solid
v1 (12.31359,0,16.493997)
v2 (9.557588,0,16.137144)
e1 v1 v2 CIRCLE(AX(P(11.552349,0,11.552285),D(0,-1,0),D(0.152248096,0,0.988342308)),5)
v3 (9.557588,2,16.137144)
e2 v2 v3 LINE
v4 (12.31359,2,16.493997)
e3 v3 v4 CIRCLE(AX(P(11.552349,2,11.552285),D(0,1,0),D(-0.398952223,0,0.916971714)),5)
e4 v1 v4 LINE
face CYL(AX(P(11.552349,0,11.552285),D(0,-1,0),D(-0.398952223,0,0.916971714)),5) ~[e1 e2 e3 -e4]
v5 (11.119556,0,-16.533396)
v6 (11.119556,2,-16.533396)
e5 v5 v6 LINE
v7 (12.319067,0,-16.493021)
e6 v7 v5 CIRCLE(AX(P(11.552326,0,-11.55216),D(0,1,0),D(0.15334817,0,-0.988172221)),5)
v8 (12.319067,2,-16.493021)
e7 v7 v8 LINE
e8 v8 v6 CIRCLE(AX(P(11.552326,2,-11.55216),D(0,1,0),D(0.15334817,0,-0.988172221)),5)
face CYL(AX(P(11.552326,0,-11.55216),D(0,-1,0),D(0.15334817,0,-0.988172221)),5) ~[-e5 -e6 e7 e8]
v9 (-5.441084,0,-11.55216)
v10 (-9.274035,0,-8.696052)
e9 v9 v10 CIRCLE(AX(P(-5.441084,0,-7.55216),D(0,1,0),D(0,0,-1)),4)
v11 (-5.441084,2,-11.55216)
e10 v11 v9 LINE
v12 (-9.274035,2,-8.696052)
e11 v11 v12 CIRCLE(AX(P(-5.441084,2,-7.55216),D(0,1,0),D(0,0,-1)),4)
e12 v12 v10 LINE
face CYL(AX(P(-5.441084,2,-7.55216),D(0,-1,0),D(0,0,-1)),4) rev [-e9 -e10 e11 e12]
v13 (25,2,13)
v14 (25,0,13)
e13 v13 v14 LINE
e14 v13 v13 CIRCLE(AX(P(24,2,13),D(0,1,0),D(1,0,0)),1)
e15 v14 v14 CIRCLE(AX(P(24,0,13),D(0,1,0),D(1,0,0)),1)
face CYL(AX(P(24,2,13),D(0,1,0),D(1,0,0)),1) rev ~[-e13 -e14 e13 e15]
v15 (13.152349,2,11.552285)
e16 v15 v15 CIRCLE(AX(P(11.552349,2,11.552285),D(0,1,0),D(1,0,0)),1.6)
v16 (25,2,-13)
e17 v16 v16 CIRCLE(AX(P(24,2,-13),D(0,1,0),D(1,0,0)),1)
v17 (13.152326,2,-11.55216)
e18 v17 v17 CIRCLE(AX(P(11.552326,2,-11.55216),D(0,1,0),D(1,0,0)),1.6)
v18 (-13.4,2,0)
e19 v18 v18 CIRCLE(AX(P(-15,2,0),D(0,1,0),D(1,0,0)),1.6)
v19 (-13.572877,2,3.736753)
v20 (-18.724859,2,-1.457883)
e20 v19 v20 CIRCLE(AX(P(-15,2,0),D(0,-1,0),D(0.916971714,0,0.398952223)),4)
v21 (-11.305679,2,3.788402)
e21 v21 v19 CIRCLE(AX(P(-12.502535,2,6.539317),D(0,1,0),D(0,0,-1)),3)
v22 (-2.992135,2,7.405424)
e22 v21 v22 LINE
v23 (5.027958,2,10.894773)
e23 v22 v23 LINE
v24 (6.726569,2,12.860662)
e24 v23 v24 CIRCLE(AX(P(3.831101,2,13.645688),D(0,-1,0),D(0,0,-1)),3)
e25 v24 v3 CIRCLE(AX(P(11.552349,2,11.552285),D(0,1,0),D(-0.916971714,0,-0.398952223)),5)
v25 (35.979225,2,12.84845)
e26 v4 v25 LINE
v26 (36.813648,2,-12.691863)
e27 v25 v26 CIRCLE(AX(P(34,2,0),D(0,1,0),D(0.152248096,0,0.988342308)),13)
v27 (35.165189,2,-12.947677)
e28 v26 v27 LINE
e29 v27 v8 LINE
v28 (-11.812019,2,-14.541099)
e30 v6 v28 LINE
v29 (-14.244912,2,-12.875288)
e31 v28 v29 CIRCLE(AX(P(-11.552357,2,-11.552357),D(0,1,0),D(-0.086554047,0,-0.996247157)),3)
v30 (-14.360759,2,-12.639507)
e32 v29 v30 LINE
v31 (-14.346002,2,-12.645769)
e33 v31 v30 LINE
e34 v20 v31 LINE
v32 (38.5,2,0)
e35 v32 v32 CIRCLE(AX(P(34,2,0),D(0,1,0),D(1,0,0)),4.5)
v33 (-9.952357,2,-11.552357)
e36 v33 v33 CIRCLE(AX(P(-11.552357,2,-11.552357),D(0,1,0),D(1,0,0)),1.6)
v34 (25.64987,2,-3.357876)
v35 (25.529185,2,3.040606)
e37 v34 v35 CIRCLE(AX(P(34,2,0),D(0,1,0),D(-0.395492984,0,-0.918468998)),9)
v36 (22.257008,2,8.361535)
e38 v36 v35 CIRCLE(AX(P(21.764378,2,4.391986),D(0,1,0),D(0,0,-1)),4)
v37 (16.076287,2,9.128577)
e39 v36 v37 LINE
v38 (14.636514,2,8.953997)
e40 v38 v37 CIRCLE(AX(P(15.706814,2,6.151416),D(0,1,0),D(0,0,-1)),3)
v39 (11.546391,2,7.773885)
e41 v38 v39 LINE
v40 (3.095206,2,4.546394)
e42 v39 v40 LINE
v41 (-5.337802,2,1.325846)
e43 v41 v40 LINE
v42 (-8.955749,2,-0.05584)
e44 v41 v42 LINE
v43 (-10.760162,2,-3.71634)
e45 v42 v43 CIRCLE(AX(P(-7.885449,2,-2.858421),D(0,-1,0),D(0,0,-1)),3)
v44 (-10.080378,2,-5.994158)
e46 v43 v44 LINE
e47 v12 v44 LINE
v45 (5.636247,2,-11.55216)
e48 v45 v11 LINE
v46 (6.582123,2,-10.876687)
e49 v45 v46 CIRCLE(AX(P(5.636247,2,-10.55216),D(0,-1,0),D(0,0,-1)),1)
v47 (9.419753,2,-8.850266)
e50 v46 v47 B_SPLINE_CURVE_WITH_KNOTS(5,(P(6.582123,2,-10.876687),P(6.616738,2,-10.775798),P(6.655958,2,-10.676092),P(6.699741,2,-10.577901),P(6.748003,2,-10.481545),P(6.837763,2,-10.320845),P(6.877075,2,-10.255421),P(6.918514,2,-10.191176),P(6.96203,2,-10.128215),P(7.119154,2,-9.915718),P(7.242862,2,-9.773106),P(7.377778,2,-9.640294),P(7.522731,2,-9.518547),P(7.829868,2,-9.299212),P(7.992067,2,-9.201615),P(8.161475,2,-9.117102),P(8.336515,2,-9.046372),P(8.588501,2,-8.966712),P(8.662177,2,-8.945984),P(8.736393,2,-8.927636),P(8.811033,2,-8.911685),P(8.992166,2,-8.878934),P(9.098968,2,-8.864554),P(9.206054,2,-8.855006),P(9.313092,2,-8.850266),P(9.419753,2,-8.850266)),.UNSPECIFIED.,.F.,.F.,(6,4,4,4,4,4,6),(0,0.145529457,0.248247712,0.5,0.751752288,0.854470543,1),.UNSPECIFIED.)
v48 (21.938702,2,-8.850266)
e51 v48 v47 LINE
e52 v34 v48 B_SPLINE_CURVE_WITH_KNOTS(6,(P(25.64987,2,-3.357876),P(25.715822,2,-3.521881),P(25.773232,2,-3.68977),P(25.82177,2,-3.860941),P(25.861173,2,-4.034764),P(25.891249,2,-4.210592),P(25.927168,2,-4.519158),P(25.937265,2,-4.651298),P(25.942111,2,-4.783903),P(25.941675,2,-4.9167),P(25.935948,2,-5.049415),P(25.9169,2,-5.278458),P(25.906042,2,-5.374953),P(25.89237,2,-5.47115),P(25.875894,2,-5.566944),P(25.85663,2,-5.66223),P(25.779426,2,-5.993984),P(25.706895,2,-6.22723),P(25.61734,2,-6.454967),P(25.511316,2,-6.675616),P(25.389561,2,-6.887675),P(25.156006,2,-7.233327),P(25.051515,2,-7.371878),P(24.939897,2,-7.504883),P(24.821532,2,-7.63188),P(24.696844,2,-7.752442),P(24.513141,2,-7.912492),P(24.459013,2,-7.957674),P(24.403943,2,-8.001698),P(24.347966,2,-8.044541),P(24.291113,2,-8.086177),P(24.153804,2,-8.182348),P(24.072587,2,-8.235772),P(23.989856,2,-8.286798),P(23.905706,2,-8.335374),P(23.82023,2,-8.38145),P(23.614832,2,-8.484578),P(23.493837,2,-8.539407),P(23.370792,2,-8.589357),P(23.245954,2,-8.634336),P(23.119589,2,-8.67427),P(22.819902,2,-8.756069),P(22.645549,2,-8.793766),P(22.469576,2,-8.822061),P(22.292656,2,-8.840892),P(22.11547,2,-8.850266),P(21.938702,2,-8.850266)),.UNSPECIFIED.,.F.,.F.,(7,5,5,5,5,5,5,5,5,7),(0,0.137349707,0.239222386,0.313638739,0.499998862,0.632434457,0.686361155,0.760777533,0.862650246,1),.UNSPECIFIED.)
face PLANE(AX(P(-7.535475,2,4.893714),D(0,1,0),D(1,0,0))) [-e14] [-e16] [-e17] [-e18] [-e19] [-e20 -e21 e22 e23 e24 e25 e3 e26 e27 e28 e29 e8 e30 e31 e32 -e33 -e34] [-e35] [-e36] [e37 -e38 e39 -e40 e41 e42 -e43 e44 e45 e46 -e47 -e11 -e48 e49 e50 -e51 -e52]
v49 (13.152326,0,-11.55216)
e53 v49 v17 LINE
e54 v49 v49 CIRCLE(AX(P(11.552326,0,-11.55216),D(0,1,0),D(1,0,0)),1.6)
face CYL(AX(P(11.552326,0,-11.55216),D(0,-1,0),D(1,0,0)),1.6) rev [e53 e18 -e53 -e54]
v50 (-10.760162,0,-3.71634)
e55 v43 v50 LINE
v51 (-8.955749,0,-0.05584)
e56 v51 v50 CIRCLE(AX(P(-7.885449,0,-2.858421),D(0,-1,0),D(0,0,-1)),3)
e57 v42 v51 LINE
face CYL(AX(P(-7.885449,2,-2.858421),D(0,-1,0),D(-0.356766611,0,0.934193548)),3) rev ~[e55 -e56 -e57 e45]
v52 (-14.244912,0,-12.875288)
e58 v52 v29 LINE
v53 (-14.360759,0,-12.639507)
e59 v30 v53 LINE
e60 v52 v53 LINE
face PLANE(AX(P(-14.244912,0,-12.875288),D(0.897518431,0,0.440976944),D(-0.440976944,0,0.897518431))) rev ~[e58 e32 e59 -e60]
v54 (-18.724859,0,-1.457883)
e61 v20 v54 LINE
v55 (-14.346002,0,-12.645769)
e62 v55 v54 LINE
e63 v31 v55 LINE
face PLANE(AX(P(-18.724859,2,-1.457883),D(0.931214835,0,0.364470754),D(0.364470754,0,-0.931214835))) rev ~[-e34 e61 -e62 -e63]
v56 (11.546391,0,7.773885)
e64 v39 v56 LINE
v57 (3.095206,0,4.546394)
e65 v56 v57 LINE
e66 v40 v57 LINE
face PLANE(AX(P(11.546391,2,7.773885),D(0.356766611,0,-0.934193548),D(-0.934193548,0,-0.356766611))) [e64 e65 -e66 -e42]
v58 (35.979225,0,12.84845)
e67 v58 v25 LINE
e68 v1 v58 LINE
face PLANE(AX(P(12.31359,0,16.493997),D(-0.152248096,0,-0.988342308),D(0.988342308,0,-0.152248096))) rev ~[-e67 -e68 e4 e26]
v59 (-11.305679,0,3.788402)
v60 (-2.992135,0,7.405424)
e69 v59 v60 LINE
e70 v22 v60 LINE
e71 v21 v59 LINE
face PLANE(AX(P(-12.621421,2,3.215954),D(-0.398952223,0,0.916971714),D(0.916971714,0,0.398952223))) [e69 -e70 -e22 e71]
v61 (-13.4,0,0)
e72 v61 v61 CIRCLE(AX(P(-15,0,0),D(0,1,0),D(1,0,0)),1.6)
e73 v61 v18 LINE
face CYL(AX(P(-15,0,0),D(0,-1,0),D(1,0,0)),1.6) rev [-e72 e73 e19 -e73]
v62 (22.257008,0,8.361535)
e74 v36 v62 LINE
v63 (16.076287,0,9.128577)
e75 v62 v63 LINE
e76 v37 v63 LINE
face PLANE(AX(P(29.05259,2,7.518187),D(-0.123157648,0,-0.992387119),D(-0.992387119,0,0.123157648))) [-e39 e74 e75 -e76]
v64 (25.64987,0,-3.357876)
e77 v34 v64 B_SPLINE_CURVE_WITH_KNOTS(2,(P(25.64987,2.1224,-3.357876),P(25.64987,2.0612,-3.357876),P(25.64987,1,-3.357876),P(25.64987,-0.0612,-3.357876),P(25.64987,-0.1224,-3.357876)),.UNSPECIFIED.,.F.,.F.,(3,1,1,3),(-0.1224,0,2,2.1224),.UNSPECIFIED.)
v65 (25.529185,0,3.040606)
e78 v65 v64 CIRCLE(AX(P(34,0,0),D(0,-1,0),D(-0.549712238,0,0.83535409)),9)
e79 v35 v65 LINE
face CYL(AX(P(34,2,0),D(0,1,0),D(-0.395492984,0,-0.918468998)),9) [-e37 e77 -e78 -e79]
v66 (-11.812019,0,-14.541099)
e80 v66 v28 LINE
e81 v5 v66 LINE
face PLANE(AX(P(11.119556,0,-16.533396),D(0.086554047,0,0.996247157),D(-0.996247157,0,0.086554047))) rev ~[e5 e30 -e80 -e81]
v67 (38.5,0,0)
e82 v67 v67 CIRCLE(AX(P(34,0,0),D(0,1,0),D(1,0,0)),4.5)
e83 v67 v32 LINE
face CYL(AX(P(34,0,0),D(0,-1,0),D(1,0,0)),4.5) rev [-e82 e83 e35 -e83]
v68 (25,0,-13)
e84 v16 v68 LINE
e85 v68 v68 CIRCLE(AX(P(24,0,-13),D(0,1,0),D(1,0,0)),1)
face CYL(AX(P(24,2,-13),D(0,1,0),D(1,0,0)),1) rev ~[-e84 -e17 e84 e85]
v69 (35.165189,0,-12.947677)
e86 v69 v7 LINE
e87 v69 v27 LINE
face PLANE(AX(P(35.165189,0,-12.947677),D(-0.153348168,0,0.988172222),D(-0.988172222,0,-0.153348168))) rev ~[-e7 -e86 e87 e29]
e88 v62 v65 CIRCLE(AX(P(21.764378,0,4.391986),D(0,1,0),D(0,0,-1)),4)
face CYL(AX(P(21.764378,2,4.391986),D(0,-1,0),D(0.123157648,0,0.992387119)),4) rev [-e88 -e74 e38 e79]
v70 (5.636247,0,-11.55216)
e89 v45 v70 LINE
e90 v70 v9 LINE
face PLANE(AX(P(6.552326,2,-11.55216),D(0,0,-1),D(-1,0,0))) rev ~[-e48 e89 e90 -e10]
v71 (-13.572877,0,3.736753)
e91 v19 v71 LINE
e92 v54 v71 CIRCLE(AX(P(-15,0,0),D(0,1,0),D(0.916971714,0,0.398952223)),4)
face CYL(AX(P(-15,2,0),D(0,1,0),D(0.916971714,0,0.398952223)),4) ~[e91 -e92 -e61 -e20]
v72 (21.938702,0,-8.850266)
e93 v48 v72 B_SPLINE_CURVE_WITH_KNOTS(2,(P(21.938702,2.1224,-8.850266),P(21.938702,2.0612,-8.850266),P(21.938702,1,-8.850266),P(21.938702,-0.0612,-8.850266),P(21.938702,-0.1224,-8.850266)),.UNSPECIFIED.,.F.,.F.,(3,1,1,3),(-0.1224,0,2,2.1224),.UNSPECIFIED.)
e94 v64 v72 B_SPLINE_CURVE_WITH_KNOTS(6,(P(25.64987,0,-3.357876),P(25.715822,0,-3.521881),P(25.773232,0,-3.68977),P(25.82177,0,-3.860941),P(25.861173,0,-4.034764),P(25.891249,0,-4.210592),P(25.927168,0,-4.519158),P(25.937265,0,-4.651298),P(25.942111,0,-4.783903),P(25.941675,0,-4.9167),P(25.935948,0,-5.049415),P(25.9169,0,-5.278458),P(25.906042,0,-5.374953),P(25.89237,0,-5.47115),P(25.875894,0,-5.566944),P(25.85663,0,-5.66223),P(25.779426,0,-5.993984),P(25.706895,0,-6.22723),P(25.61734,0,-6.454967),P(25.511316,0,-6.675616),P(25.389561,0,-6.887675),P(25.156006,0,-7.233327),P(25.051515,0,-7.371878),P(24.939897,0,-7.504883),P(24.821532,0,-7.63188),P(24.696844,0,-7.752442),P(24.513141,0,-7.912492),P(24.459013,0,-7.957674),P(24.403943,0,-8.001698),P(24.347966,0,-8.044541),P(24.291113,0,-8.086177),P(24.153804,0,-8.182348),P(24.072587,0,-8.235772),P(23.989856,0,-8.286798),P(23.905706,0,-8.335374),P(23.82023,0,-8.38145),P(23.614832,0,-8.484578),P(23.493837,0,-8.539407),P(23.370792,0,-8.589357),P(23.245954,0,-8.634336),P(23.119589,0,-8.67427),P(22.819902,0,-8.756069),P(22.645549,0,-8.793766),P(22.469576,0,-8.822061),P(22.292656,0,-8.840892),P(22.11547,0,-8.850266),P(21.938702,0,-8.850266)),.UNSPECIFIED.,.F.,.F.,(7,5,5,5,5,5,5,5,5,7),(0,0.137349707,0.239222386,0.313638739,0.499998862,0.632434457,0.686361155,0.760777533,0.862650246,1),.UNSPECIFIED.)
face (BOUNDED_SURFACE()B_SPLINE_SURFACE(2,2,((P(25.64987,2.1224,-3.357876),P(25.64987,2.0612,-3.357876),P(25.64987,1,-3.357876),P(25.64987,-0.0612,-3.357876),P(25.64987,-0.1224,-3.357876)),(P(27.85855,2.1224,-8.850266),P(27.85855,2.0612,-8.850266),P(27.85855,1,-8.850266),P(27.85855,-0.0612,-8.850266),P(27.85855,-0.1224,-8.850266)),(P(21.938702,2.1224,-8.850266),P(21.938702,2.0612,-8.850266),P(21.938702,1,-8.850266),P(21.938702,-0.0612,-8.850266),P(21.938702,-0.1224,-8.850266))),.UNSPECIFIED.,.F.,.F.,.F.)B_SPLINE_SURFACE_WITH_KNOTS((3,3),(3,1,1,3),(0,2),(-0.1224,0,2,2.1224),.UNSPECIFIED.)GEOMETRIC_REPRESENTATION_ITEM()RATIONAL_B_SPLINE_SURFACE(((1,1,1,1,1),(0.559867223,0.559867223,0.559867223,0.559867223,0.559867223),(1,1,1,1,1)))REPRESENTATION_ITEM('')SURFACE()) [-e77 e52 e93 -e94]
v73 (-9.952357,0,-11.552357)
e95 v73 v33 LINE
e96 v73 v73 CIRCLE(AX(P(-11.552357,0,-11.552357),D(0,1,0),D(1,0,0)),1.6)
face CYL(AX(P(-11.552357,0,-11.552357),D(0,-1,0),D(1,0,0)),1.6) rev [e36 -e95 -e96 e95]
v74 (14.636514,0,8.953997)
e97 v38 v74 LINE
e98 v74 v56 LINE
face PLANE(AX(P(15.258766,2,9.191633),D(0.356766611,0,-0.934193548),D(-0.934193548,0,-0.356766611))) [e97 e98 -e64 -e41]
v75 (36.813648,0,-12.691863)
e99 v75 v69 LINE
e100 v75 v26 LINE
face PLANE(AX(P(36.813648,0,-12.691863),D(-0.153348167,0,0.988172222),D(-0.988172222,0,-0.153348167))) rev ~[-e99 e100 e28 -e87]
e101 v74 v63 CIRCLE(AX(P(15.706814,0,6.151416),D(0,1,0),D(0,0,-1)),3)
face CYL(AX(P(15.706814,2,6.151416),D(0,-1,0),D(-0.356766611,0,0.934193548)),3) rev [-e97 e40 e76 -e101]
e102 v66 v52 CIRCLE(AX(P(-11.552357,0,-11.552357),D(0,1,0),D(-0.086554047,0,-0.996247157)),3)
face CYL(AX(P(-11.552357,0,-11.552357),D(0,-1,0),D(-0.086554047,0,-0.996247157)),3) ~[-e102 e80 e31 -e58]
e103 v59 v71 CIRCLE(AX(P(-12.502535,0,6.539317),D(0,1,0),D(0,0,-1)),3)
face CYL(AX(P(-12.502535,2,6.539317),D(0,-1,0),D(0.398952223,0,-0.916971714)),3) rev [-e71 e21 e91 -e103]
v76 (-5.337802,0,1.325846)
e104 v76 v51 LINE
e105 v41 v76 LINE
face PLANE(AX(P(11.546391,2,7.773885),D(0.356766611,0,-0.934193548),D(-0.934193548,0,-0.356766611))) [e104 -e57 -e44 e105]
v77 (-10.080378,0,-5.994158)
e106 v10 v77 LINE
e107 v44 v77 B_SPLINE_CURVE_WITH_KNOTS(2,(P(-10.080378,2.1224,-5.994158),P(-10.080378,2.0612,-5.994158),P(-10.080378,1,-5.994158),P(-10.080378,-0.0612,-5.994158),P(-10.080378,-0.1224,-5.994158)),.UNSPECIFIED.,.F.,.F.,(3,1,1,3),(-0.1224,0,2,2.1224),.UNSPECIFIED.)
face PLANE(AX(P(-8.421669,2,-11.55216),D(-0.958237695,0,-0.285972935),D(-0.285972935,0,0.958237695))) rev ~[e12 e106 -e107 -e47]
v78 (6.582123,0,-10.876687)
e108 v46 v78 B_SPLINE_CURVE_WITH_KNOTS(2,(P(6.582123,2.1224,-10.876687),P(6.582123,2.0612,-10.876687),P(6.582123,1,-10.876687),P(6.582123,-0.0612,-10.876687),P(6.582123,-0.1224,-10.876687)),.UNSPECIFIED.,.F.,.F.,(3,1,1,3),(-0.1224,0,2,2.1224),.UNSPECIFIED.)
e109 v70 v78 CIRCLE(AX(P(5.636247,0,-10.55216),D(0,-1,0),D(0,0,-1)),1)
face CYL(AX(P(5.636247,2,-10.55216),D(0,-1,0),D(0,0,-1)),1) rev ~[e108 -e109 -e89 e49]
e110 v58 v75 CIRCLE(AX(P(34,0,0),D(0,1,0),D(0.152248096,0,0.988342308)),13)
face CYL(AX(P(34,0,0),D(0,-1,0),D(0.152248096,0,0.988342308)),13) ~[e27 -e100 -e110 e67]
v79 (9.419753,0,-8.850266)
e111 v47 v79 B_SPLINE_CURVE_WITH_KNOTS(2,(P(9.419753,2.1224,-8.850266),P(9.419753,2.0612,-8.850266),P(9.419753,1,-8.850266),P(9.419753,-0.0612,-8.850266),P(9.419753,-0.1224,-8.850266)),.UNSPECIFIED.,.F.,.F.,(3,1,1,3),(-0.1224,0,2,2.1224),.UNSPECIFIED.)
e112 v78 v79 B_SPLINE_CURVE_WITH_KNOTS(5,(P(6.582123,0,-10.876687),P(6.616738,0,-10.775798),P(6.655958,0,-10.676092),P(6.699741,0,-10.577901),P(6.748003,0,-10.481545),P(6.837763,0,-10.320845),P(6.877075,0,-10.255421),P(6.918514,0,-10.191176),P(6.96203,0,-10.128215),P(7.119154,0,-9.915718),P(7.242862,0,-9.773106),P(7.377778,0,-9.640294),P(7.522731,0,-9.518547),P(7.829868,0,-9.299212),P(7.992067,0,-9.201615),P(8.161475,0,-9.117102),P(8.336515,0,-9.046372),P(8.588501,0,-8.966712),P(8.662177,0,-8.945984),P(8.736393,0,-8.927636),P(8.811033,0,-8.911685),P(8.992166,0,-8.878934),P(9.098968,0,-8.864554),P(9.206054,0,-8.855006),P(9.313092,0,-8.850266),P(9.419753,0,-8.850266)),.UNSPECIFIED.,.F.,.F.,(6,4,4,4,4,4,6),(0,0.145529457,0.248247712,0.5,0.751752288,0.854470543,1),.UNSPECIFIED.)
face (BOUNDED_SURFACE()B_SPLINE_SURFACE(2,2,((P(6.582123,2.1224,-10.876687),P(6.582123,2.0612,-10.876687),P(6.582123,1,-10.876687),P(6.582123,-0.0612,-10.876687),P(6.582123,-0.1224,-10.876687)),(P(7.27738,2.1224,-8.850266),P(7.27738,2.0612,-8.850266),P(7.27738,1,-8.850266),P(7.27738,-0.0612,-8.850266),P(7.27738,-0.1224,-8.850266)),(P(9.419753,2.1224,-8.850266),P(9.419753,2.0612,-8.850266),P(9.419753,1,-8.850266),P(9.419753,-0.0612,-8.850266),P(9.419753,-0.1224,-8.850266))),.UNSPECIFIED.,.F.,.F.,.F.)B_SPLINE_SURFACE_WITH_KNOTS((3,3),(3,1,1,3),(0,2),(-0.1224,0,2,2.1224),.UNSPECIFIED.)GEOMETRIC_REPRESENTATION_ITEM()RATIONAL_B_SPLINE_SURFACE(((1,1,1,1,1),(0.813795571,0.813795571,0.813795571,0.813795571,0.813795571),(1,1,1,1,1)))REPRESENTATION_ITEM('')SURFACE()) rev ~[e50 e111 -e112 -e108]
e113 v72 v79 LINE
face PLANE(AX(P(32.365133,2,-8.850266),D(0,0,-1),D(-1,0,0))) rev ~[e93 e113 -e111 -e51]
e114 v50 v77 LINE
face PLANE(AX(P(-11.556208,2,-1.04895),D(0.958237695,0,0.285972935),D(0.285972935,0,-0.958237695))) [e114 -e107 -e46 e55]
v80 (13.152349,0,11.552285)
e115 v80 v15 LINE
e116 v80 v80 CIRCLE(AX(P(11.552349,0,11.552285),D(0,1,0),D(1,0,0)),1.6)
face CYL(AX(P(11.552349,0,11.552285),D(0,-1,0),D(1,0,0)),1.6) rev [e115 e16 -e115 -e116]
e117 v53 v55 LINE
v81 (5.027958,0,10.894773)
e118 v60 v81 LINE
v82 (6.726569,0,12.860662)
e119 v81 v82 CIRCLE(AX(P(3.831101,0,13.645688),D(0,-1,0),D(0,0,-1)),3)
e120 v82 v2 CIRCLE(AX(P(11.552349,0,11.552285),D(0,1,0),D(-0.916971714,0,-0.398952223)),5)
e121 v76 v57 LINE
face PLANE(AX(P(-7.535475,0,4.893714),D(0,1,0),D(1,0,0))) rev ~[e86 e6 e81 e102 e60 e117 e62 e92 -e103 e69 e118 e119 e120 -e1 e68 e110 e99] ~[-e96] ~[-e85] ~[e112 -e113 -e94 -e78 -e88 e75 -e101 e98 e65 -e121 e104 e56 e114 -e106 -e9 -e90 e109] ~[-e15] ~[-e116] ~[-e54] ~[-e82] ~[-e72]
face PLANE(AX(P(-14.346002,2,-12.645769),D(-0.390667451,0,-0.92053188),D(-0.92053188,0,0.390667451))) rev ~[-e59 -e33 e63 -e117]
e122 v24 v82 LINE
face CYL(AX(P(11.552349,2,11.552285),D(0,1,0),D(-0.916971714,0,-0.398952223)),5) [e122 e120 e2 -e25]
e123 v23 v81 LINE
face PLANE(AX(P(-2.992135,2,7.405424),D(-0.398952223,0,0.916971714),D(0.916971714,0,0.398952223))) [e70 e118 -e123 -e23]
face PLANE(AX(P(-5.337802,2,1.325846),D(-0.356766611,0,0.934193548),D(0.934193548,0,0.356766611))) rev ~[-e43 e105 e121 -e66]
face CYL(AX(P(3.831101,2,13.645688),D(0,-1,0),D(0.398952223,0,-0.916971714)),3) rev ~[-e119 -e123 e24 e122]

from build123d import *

# Parameters (mm, degrees)
SKETCH1_R           = 1.6
SKETCH1_R_2         = 1
SKETCH1_R_3         = 5.5
SKETCH1_R_4         = 4.5
BOSS_EXTRUDE2_DEPTH = 2
SKETCH2_R           = 1
BOSS_EXTRUDE3_DEPTH = 2
SKETCH3_R           = 1
CUT_EXTRUDE1_DEPTH  = 103
CUT_EXTRUDE2_DEPTH  = 10
BOSS_EXTRUDE4_DEPTH = 2
FILLET1_R           = 3
CUT_EXTRUDE3_DEPTH  = 10
CUT_EXTRUDE4_DEPTH  = 10
BOSS_EXTRUDE5_DEPTH = 2
CUT_EXTRUDE5_DEPTH  = 10
CUT_EXTRUDE9_DEPTH  = 10
FILLET3_R           = 4
CUT_EXTRUDE10_DEPTH = 10
FILLET4_R           = 4
FILLET6_R           = 1
FILLET7_R           = 3
SKETCH13_R          = 1.6
SKETCH13_R_2        = 1
SKETCH13_R_3        = 4.5
BOSS_EXTRUDE7_DEPTH = 2
FILLET8_R           = 3


with BuildPart() as part:
    # Sketch1 → Boss-Extrude2 (new body)
    with BuildSketch(Plane(origin=(0, 0, 0), x_dir=(1, 0, 0), z_dir=(0, 1, 0))):
        with BuildLine():
            Line((12.313589515, -16.493996637), (35.979225245, -12.848450001))
            ThreePointArc((35.979225245, -12.848450001), (46.993067566, -0.424494085), (36.813648041, 12.691862933))
            Line((36.813648041, 12.691862933), (35.165189196, 12.947676785))
            Line((35.165189196, 12.947676785), (12.319067304, 16.493021261))
            ThreePointArc((12.319067304, 16.493021261), (11.720527595, 16.549330191), (11.119556233, 16.533395936))
            Line((11.119556233, 16.533395936), (-11.812019178, 14.541098507))
            ThreePointArc((-11.812019178, 14.541098507), (-13.247239988, 14.027709898), (-14.244912332, 12.87528787))
            Line((-14.244912332, 12.87528787), (-19.487592157, 2.204884721))
            ThreePointArc((-19.487592157, 2.204884721), (-19.693653105, -1.723258696), (-16.994761113, -4.584858569))
            Line((-16.994761113, -4.584858569), (9.557587922, -16.137143667))
            ThreePointArc((9.557587922, -16.137143667), (10.910298182, -16.51089082), (12.313589515, -16.493996637))
        make_face()
        with Locations((11.552349036, -11.552285098)):
            Circle(SKETCH1_R, mode=Mode.SUBTRACT)
        with Locations((25, -11)):
            Circle(SKETCH1_R_2, mode=Mode.SUBTRACT)
        with Locations((-15, 0)):
            Circle(SKETCH1_R, mode=Mode.SUBTRACT)
        Circle(SKETCH1_R_3, mode=Mode.SUBTRACT)
        with Locations((-11.552357038, 11.552357038)):
            Circle(SKETCH1_R, mode=Mode.SUBTRACT)
        with Locations((11.552326466, 11.552160153)):
            Circle(SKETCH1_R, mode=Mode.SUBTRACT)
        with Locations((14, 0)):
            Circle(SKETCH1_R_4, mode=Mode.SUBTRACT)
        with Locations((34, 0)):
            Circle(SKETCH1_R_4, mode=Mode.SUBTRACT)
        with Locations((25, 11)):
            Circle(SKETCH1_R_2, mode=Mode.SUBTRACT)
    extrude(amount=BOSS_EXTRUDE2_DEPTH)

    # Sketch2 → Boss-Extrude3 (add)
    with BuildSketch(Plane(origin=(0, 2, 0), x_dir=(1, 0, 0), z_dir=(0, 1, 0))):
        with Locations((25, 11)):
            Circle(SKETCH2_R)
        with Locations((25, -11)):
            Circle(SKETCH2_R)
    extrude(amount=-BOSS_EXTRUDE3_DEPTH)

    # Sketch3 → Cut-Extrude1 (cut)
    with BuildSketch(Plane(origin=(0, 2, 0), x_dir=(1, 0, 0), z_dir=(0, 1, 0))):
        with Locations((24, 13)):
            Circle(SKETCH3_R)
        with Locations((24, -13)):
            Circle(SKETCH3_R)
    extrude(amount=-CUT_EXTRUDE1_DEPTH, mode=Mode.SUBTRACT)

    # Sketch4 → Cut-Extrude2 (cut)
    with BuildSketch(Plane(origin=(0, 2, 0), x_dir=(1, 0, 0), z_dir=(0, 1, 0))):
        with BuildLine():
            Line((-11.556207856, 1.04895048), (-9.269369924, 8.711683705))
            Line((-9.269369924, 8.711683705), (11.51784634, 8.478494442))
            Line((11.51784634, 8.478494442), (14.72101257, 8.44256159))
            ThreePointArc((14.72101257, 8.44256159), (23.806986873, -0.105659112), (15.258766171, -9.191633415))
            Line((15.258766171, -9.191633415), (11.546390573, -7.773884745))
            Line((11.546390573, -7.773884745), (-11.556207856, 1.04895048))
        make_face()
    extrude(amount=-CUT_EXTRUDE2_DEPTH, mode=Mode.SUBTRACT)

    # Sketch5 → Boss-Extrude4 (add)
    with BuildSketch(Plane(origin=(0, 2, 0), x_dir=(1, 0, 0), z_dir=(0, 1, 0))):
        Polygon((-5.337802217, -1.325845952), (3.09520559, -4.546394435), (3.755970184, -8.105851045), (-7.77052306, -5.643881614), align=None)
    extrude(amount=-BOSS_EXTRUDE4_DEPTH)

    # Fillet1
    fillet1_edges = [part.edges().sort_by_distance(p)[0] for p in [
        (14.72101257, 1, -8.44256159),
        (-11.556207856, 1, -1.04895048),
        (-9.269369924, 1, -8.711683705),
        (15.258766171, 1, 9.191633415),
    ]]
    fillet(fillet1_edges, radius=FILLET1_R)

    # Sketch6 → Cut-Extrude3 (cut)
    with BuildSketch(Plane(origin=(0, 2, 0), x_dir=(1, 0, 0), z_dir=(0, 1, 0))):
        with BuildLine():
            Line((-10.415141431, -1.994761113), (6.967490467, -9.557523985))
            ThreePointArc((6.967490467, -9.557523985), (7.370614613, -14.293288056), (11.552349036, -16.552285098))
            Line((11.552349036, -16.552285098), (4.640159697, -19.625925194))
            Line((4.640159697, -19.625925194), (-19.442024068, -14.318556871))
            Line((-19.442024068, -14.318556871), (-16.994761113, -4.584858569))
            ThreePointArc((-16.994761113, -4.584858569), (-13.168524525, -4.652493695), (-10.415141431, -1.994761113))
        make_face()
    extrude(amount=-CUT_EXTRUDE3_DEPTH, mode=Mode.SUBTRACT)

    # Sketch7 → Cut-Extrude4 (cut)
    with BuildSketch(Plane(origin=(0, 2, 0), x_dir=(1, 0, 0), z_dir=(0, 1, 0))):
        with BuildLine():
            Line((-19.487592157, 2.204884721), (-14.360758579, 12.639506513))
            Line((-14.360758579, 12.639506513), (-40.027877899, 1.746555748))
            Line((-40.027877899, 1.746555748), (-13.686394089, -14.892557088))
            Line((-13.686394089, -14.892557088), (-5.537805094, -4.116772232))
            Line((-5.537805094, -4.116772232), (-10.415141431, -1.994761113))
            ThreePointArc((-10.415141431, -1.994761113), (-17.100386029, -4.537441849), (-19.487592157, 2.204884721))
        make_face()
        with BuildLine():
            Line((-18.724859342, 1.457883014), (-14.346001544, 12.645769298))
            Line((-14.346001544, 12.645769298), (-14.360758579, 12.639506513))
            Line((-14.360758579, 12.639506513), (-19.487592157, 2.204884721))
            ThreePointArc((-19.487592157, 2.204884721), (-17.100386029, -4.537441849), (-10.415141431, -1.994761113))
            Line((-10.415141431, -1.994761113), (-11.332113145, -1.595808891))
            ThreePointArc((-11.332113145, -1.595808891), (-16.527111662, -3.697016361), (-18.724859342, 1.457883014))
        make_face()
    extrude(amount=-CUT_EXTRUDE4_DEPTH, mode=Mode.SUBTRACT)

    # Sketch8 → Boss-Extrude5 (add)
    with BuildSketch(Plane(origin=(0, 2, 0), x_dir=(1, 0, 0), z_dir=(0, 1, 0))):
        Polygon((-2.581263562, -6.493638152), (8.323551355, -11.238059471), (9.15275877, -8.13729454), (-12.005428352, 0), (-12.793973249, -2.050335084), align=None)
    extrude(amount=-BOSS_EXTRUDE5_DEPTH)

    # Sketch9 → Cut-Extrude5 (cut)
    with BuildSketch(Plane(origin=(0, 2, 0), x_dir=(1, 0, 0), z_dir=(0, 1, 0))):
        with BuildLine():
            Line((3.827614939, 8.564762818), (30.440563146, 8.266220979))
            ThreePointArc((30.440563146, 8.266220979), (25.034594613, 0.788356673), (29.052589856, -7.518186807))
            Line((29.052589856, -7.518186807), (16.076287148, -9.128577435))
            Line((16.076287148, -9.128577435), (3.827614939, 8.564762818))
        make_face()
    extrude(amount=-CUT_EXTRUDE5_DEPTH, mode=Mode.SUBTRACT)

    # Sketch10 → Cut-Extrude9 (cut)
    with BuildSketch(Plane(origin=(0, 2, 0), x_dir=(1, 0, 0), z_dir=(0, 1, 0))):
        with BuildLine():
            ThreePointArc((-7.00779509, 8.686313546), (-8.820444577, 8.102111249), (-9.916159809, 6.544421096))
            Line((-9.916159809, 6.544421096), (25.022400978, -0.634598928))
            ThreePointArc((25.022400978, -0.634598928), (26.312317261, 4.679693805), (30.440563146, 8.266220979))
            Line((30.440563146, 8.266220979), (22.948527848, 8.350266008))
            Line((22.948527848, 8.350266008), (15.45649255, 8.434311037))
            ThreePointArc((15.45649255, 8.434311037), (15.11388418, 8.44578882), (14.771088556, 8.443946344))
            ThreePointArc((14.771088556, 8.443946344), (14.717060069, 8.443092594), (14.663024969, 8.44321209))
            Line((14.663024969, 8.44321209), (-7.00779509, 8.686313546))
        make_face()
        with BuildLine():
            Line((-9.442365056, 8.850266008), (-9.916159809, 6.544421096))
            ThreePointArc((-9.916159809, 6.544421096), (-8.820444577, 8.102111249), (-7.00779509, 8.686313546))
            Line((-7.00779509, 8.686313546), (14.663024969, 8.44321209))
            ThreePointArc((14.663024969, 8.44321209), (14.717060069, 8.443092594), (14.771088556, 8.443946344))
            ThreePointArc((14.771088556, 8.443946344), (15.11388418, 8.44578882), (15.45649255, 8.434311037))
            Line((15.45649255, 8.434311037), (22.948527848, 8.350266008))
            Line((22.948527848, 8.350266008), (22.948527848, 8.850266008))
            Line((22.948527848, 8.850266008), (-9.442365056, 8.850266008))
        make_face()
        with BuildLine():
            Line((22.948527848, 8.350266008), (30.440563146, 8.266220979))
            ThreePointArc((30.440563146, 8.266220979), (31.386481977, 8.612172986), (32.365132548, 8.850266008))
            Line((32.365132548, 8.850266008), (22.948527848, 8.850266008))
            Line((22.948527848, 8.850266008), (22.948527848, 8.350266008))
        make_face()
    extrude(amount=-CUT_EXTRUDE9_DEPTH, mode=Mode.SUBTRACT)

    # Fillet3
    fillet3_edges = [part.edges().sort_by_distance(p)[0] for p in [
        (-9.442365056, 1, -8.850266008),
        (32.365132548, 1, -8.850266008),
        (29.052589856, 1, 7.518186807),
    ]]
    fillet(fillet3_edges, radius=FILLET3_R)

    # Sketch11 → Cut-Extrude10 (cut)
    with BuildSketch(Plane(origin=(0, 2, 0), x_dir=(1, 0, 0), z_dir=(0, 1, 0))):
        with BuildLine():
            Line((-8.421668575, 11.552160153), (-10.08037838, 5.994157747))
            ThreePointArc((-10.08037838, 5.994157747), (-8.637451976, 8.057723487), (-6.247427599, 8.850266008))
            Line((-6.247427599, 8.850266008), (7.345217242, 8.850266008))
            ThreePointArc((7.345217242, 8.850266008), (6.754642331, 10.14424434), (6.552326466, 11.552160153))
            Line((6.552326466, 11.552160153), (-8.421668575, 11.552160153))
        make_face()
    extrude(amount=-CUT_EXTRUDE10_DEPTH, mode=Mode.SUBTRACT)

    # Fillet4
    fillet4_edges = [part.edges().sort_by_distance(p)[0] for p in [
        (-8.421668575, 1, -11.552160153),
    ]]
    fillet(fillet4_edges, radius=FILLET4_R)

    # Fillet6
    fillet6_edges = [part.edges().sort_by_distance(p)[0] for p in [
        (6.552326466, 1, -11.552160153),
    ]]
    fillet(fillet6_edges, radius=FILLET6_R)

    # Fillet7
    fillet7_edges = [part.edges().sort_by_distance(p)[0] for p in [
        (7.345217242, 1, -8.850266008),
    ]]
    fillet(fillet7_edges, radius=FILLET7_R)

    # Sketch13 → Boss-Extrude7 (add)
    with BuildSketch(Plane(origin=(0, 2, 0), x_dir=(1, 0, 0), z_dir=(0, 1, 0))):
        with BuildLine():
            Line((-2.992134647, -7.405424257), (-2.593182424, -6.488452543))
            Line((-2.593182424, -6.488452543), (-11.847536046, -2.462107028))
            ThreePointArc((-11.847536046, -2.462107028), (-12.208910636, -2.865278374), (-12.62142125, -3.215954467))
            Line((-12.62142125, -3.215954467), (-2.992134647, -7.405424257))
        make_face()
        with BuildLine():
            Line((6.661171198, -10.514798057), (-2.593182424, -6.488452543))
            Line((-2.593182424, -6.488452543), (-2.992134647, -7.405424257))
            Line((-2.992134647, -7.405424257), (6.552352302, -11.557999767))
            ThreePointArc((6.552352302, -11.557999767), (6.579331737, -11.033537621), (6.661171198, -10.514798057))
        make_face()
        with BuildLine():
            Line((7.960909986, -12.17082916), (6.552352302, -11.557999767))
            ThreePointArc((6.552352302, -11.557999767), (8.299230544, -15.349286557), (12.313589515, -16.493996637))
            Line((12.313589515, -16.493996637), (35.979225245, -12.848450001))
            ThreePointArc((35.979225245, -12.848450001), (46.993067566, -0.424494085), (36.813648041, 12.691862933))
            Line((36.813648041, 12.691862933), (12.319067304, 16.493021261))
            ThreePointArc((12.319067304, 16.493021261), (11.720527595, 16.549330191), (11.119556233, 16.533395936))
            Line((11.119556233, 16.533395936), (-11.812019178, 14.541098507))
            ThreePointArc((-11.812019178, 14.541098507), (-13.247239988, 14.027709898), (-14.244912332, 12.87528787))
            Line((-14.244912332, 12.87528787), (-14.360758579, 12.639506513))
            Line((-14.360758579, 12.639506513), (-14.346001544, 12.645769298))
            Line((-14.346001544, 12.645769298), (-18.724859342, 1.457883014))
            ThreePointArc((-18.724859342, 1.457883014), (-17.431934838, -3.175798001), (-12.62142125, -3.215954467))
            Line((-12.62142125, -3.215954467), (-13.921939677, -2.650130342))
            Line((-13.921939677, -2.650130342), (-12.211113783, -0.329635092))
            Line((-12.211113783, -0.329635092), (7.960909986, -9.788126708))
            Line((7.960909986, -9.788126708), (7.960909986, -12.17082916))
        make_face()
        with Locations((11.552349036, -11.552285098)):
            Circle(SKETCH13_R, mode=Mode.SUBTRACT)
        with Locations((24, -13)):
            Circle(SKETCH13_R_2, mode=Mode.SUBTRACT)
        with Locations((-15, 0)):
            Circle(SKETCH13_R, mode=Mode.SUBTRACT)
        with BuildLine():
            Line((-5.441084244, 11.552160153), (5.636246683, 11.552160153))
            ThreePointArc((5.636246683, 11.552160153), (6.217397927, 11.365955725), (6.5821233, 10.876686617))
            ThreePointArc((6.5821233, 10.876686617), (7.676299419, 9.408879294), (9.419753151, 8.850266008))
            Line((9.419753151, 8.850266008), (21.938701577, 8.850266008))
            ThreePointArc((21.938701577, 8.850266008), (25.253030933, 7.0897349), (25.649870322, 3.357876467))
            ThreePointArc((25.649870322, 3.357876467), (25.001600498, 0.169724478), (25.529184516, -3.04060603))
            ThreePointArc((25.529184516, -3.04060603), (25.171651417, -6.487334994), (22.257008224, -8.361534964))
            Line((22.257008224, -8.361534964), (16.076287148, -9.128577435))
            ThreePointArc((16.076287148, -9.128577435), (15.345692081, -9.129601903), (14.636514373, -8.953996722))
            Line((14.636514373, -8.953996722), (-8.955748715, 0.055840437))
            ThreePointArc((-8.955748715, 0.055840437), (-10.5762844, 1.53199573), (-10.760161968, 3.716339886))
            Line((-10.760161968, 3.716339886), (-9.274035024, 8.696051893))
            ThreePointArc((-9.274035024, 8.696051893), (-7.83110862, 10.759617632), (-5.441084244, 11.552160153))
        make_face(mode=Mode.SUBTRACT)
        with Locations((-11.552357038, 11.552357038)):
            Circle(SKETCH13_R, mode=Mode.SUBTRACT)
        with Locations((11.552326466, 11.552160153)):
            Circle(SKETCH13_R, mode=Mode.SUBTRACT)
        with Locations((34, 0)):
            Circle(SKETCH13_R_3, mode=Mode.SUBTRACT)
        with Locations((24, 13)):
            Circle(SKETCH13_R_2, mode=Mode.SUBTRACT)
    extrude(amount=-BOSS_EXTRUDE7_DEPTH)

    # Fillet8
    fillet8_edges = [part.edges().sort_by_distance(p)[0] for p in [
        (-12.62142125, 1, 3.215954467),
        (6.552352302, 1, 11.557999767),
    ]]
    fillet(fillet8_edges, radius=FILLET8_R)


solid = part.part
